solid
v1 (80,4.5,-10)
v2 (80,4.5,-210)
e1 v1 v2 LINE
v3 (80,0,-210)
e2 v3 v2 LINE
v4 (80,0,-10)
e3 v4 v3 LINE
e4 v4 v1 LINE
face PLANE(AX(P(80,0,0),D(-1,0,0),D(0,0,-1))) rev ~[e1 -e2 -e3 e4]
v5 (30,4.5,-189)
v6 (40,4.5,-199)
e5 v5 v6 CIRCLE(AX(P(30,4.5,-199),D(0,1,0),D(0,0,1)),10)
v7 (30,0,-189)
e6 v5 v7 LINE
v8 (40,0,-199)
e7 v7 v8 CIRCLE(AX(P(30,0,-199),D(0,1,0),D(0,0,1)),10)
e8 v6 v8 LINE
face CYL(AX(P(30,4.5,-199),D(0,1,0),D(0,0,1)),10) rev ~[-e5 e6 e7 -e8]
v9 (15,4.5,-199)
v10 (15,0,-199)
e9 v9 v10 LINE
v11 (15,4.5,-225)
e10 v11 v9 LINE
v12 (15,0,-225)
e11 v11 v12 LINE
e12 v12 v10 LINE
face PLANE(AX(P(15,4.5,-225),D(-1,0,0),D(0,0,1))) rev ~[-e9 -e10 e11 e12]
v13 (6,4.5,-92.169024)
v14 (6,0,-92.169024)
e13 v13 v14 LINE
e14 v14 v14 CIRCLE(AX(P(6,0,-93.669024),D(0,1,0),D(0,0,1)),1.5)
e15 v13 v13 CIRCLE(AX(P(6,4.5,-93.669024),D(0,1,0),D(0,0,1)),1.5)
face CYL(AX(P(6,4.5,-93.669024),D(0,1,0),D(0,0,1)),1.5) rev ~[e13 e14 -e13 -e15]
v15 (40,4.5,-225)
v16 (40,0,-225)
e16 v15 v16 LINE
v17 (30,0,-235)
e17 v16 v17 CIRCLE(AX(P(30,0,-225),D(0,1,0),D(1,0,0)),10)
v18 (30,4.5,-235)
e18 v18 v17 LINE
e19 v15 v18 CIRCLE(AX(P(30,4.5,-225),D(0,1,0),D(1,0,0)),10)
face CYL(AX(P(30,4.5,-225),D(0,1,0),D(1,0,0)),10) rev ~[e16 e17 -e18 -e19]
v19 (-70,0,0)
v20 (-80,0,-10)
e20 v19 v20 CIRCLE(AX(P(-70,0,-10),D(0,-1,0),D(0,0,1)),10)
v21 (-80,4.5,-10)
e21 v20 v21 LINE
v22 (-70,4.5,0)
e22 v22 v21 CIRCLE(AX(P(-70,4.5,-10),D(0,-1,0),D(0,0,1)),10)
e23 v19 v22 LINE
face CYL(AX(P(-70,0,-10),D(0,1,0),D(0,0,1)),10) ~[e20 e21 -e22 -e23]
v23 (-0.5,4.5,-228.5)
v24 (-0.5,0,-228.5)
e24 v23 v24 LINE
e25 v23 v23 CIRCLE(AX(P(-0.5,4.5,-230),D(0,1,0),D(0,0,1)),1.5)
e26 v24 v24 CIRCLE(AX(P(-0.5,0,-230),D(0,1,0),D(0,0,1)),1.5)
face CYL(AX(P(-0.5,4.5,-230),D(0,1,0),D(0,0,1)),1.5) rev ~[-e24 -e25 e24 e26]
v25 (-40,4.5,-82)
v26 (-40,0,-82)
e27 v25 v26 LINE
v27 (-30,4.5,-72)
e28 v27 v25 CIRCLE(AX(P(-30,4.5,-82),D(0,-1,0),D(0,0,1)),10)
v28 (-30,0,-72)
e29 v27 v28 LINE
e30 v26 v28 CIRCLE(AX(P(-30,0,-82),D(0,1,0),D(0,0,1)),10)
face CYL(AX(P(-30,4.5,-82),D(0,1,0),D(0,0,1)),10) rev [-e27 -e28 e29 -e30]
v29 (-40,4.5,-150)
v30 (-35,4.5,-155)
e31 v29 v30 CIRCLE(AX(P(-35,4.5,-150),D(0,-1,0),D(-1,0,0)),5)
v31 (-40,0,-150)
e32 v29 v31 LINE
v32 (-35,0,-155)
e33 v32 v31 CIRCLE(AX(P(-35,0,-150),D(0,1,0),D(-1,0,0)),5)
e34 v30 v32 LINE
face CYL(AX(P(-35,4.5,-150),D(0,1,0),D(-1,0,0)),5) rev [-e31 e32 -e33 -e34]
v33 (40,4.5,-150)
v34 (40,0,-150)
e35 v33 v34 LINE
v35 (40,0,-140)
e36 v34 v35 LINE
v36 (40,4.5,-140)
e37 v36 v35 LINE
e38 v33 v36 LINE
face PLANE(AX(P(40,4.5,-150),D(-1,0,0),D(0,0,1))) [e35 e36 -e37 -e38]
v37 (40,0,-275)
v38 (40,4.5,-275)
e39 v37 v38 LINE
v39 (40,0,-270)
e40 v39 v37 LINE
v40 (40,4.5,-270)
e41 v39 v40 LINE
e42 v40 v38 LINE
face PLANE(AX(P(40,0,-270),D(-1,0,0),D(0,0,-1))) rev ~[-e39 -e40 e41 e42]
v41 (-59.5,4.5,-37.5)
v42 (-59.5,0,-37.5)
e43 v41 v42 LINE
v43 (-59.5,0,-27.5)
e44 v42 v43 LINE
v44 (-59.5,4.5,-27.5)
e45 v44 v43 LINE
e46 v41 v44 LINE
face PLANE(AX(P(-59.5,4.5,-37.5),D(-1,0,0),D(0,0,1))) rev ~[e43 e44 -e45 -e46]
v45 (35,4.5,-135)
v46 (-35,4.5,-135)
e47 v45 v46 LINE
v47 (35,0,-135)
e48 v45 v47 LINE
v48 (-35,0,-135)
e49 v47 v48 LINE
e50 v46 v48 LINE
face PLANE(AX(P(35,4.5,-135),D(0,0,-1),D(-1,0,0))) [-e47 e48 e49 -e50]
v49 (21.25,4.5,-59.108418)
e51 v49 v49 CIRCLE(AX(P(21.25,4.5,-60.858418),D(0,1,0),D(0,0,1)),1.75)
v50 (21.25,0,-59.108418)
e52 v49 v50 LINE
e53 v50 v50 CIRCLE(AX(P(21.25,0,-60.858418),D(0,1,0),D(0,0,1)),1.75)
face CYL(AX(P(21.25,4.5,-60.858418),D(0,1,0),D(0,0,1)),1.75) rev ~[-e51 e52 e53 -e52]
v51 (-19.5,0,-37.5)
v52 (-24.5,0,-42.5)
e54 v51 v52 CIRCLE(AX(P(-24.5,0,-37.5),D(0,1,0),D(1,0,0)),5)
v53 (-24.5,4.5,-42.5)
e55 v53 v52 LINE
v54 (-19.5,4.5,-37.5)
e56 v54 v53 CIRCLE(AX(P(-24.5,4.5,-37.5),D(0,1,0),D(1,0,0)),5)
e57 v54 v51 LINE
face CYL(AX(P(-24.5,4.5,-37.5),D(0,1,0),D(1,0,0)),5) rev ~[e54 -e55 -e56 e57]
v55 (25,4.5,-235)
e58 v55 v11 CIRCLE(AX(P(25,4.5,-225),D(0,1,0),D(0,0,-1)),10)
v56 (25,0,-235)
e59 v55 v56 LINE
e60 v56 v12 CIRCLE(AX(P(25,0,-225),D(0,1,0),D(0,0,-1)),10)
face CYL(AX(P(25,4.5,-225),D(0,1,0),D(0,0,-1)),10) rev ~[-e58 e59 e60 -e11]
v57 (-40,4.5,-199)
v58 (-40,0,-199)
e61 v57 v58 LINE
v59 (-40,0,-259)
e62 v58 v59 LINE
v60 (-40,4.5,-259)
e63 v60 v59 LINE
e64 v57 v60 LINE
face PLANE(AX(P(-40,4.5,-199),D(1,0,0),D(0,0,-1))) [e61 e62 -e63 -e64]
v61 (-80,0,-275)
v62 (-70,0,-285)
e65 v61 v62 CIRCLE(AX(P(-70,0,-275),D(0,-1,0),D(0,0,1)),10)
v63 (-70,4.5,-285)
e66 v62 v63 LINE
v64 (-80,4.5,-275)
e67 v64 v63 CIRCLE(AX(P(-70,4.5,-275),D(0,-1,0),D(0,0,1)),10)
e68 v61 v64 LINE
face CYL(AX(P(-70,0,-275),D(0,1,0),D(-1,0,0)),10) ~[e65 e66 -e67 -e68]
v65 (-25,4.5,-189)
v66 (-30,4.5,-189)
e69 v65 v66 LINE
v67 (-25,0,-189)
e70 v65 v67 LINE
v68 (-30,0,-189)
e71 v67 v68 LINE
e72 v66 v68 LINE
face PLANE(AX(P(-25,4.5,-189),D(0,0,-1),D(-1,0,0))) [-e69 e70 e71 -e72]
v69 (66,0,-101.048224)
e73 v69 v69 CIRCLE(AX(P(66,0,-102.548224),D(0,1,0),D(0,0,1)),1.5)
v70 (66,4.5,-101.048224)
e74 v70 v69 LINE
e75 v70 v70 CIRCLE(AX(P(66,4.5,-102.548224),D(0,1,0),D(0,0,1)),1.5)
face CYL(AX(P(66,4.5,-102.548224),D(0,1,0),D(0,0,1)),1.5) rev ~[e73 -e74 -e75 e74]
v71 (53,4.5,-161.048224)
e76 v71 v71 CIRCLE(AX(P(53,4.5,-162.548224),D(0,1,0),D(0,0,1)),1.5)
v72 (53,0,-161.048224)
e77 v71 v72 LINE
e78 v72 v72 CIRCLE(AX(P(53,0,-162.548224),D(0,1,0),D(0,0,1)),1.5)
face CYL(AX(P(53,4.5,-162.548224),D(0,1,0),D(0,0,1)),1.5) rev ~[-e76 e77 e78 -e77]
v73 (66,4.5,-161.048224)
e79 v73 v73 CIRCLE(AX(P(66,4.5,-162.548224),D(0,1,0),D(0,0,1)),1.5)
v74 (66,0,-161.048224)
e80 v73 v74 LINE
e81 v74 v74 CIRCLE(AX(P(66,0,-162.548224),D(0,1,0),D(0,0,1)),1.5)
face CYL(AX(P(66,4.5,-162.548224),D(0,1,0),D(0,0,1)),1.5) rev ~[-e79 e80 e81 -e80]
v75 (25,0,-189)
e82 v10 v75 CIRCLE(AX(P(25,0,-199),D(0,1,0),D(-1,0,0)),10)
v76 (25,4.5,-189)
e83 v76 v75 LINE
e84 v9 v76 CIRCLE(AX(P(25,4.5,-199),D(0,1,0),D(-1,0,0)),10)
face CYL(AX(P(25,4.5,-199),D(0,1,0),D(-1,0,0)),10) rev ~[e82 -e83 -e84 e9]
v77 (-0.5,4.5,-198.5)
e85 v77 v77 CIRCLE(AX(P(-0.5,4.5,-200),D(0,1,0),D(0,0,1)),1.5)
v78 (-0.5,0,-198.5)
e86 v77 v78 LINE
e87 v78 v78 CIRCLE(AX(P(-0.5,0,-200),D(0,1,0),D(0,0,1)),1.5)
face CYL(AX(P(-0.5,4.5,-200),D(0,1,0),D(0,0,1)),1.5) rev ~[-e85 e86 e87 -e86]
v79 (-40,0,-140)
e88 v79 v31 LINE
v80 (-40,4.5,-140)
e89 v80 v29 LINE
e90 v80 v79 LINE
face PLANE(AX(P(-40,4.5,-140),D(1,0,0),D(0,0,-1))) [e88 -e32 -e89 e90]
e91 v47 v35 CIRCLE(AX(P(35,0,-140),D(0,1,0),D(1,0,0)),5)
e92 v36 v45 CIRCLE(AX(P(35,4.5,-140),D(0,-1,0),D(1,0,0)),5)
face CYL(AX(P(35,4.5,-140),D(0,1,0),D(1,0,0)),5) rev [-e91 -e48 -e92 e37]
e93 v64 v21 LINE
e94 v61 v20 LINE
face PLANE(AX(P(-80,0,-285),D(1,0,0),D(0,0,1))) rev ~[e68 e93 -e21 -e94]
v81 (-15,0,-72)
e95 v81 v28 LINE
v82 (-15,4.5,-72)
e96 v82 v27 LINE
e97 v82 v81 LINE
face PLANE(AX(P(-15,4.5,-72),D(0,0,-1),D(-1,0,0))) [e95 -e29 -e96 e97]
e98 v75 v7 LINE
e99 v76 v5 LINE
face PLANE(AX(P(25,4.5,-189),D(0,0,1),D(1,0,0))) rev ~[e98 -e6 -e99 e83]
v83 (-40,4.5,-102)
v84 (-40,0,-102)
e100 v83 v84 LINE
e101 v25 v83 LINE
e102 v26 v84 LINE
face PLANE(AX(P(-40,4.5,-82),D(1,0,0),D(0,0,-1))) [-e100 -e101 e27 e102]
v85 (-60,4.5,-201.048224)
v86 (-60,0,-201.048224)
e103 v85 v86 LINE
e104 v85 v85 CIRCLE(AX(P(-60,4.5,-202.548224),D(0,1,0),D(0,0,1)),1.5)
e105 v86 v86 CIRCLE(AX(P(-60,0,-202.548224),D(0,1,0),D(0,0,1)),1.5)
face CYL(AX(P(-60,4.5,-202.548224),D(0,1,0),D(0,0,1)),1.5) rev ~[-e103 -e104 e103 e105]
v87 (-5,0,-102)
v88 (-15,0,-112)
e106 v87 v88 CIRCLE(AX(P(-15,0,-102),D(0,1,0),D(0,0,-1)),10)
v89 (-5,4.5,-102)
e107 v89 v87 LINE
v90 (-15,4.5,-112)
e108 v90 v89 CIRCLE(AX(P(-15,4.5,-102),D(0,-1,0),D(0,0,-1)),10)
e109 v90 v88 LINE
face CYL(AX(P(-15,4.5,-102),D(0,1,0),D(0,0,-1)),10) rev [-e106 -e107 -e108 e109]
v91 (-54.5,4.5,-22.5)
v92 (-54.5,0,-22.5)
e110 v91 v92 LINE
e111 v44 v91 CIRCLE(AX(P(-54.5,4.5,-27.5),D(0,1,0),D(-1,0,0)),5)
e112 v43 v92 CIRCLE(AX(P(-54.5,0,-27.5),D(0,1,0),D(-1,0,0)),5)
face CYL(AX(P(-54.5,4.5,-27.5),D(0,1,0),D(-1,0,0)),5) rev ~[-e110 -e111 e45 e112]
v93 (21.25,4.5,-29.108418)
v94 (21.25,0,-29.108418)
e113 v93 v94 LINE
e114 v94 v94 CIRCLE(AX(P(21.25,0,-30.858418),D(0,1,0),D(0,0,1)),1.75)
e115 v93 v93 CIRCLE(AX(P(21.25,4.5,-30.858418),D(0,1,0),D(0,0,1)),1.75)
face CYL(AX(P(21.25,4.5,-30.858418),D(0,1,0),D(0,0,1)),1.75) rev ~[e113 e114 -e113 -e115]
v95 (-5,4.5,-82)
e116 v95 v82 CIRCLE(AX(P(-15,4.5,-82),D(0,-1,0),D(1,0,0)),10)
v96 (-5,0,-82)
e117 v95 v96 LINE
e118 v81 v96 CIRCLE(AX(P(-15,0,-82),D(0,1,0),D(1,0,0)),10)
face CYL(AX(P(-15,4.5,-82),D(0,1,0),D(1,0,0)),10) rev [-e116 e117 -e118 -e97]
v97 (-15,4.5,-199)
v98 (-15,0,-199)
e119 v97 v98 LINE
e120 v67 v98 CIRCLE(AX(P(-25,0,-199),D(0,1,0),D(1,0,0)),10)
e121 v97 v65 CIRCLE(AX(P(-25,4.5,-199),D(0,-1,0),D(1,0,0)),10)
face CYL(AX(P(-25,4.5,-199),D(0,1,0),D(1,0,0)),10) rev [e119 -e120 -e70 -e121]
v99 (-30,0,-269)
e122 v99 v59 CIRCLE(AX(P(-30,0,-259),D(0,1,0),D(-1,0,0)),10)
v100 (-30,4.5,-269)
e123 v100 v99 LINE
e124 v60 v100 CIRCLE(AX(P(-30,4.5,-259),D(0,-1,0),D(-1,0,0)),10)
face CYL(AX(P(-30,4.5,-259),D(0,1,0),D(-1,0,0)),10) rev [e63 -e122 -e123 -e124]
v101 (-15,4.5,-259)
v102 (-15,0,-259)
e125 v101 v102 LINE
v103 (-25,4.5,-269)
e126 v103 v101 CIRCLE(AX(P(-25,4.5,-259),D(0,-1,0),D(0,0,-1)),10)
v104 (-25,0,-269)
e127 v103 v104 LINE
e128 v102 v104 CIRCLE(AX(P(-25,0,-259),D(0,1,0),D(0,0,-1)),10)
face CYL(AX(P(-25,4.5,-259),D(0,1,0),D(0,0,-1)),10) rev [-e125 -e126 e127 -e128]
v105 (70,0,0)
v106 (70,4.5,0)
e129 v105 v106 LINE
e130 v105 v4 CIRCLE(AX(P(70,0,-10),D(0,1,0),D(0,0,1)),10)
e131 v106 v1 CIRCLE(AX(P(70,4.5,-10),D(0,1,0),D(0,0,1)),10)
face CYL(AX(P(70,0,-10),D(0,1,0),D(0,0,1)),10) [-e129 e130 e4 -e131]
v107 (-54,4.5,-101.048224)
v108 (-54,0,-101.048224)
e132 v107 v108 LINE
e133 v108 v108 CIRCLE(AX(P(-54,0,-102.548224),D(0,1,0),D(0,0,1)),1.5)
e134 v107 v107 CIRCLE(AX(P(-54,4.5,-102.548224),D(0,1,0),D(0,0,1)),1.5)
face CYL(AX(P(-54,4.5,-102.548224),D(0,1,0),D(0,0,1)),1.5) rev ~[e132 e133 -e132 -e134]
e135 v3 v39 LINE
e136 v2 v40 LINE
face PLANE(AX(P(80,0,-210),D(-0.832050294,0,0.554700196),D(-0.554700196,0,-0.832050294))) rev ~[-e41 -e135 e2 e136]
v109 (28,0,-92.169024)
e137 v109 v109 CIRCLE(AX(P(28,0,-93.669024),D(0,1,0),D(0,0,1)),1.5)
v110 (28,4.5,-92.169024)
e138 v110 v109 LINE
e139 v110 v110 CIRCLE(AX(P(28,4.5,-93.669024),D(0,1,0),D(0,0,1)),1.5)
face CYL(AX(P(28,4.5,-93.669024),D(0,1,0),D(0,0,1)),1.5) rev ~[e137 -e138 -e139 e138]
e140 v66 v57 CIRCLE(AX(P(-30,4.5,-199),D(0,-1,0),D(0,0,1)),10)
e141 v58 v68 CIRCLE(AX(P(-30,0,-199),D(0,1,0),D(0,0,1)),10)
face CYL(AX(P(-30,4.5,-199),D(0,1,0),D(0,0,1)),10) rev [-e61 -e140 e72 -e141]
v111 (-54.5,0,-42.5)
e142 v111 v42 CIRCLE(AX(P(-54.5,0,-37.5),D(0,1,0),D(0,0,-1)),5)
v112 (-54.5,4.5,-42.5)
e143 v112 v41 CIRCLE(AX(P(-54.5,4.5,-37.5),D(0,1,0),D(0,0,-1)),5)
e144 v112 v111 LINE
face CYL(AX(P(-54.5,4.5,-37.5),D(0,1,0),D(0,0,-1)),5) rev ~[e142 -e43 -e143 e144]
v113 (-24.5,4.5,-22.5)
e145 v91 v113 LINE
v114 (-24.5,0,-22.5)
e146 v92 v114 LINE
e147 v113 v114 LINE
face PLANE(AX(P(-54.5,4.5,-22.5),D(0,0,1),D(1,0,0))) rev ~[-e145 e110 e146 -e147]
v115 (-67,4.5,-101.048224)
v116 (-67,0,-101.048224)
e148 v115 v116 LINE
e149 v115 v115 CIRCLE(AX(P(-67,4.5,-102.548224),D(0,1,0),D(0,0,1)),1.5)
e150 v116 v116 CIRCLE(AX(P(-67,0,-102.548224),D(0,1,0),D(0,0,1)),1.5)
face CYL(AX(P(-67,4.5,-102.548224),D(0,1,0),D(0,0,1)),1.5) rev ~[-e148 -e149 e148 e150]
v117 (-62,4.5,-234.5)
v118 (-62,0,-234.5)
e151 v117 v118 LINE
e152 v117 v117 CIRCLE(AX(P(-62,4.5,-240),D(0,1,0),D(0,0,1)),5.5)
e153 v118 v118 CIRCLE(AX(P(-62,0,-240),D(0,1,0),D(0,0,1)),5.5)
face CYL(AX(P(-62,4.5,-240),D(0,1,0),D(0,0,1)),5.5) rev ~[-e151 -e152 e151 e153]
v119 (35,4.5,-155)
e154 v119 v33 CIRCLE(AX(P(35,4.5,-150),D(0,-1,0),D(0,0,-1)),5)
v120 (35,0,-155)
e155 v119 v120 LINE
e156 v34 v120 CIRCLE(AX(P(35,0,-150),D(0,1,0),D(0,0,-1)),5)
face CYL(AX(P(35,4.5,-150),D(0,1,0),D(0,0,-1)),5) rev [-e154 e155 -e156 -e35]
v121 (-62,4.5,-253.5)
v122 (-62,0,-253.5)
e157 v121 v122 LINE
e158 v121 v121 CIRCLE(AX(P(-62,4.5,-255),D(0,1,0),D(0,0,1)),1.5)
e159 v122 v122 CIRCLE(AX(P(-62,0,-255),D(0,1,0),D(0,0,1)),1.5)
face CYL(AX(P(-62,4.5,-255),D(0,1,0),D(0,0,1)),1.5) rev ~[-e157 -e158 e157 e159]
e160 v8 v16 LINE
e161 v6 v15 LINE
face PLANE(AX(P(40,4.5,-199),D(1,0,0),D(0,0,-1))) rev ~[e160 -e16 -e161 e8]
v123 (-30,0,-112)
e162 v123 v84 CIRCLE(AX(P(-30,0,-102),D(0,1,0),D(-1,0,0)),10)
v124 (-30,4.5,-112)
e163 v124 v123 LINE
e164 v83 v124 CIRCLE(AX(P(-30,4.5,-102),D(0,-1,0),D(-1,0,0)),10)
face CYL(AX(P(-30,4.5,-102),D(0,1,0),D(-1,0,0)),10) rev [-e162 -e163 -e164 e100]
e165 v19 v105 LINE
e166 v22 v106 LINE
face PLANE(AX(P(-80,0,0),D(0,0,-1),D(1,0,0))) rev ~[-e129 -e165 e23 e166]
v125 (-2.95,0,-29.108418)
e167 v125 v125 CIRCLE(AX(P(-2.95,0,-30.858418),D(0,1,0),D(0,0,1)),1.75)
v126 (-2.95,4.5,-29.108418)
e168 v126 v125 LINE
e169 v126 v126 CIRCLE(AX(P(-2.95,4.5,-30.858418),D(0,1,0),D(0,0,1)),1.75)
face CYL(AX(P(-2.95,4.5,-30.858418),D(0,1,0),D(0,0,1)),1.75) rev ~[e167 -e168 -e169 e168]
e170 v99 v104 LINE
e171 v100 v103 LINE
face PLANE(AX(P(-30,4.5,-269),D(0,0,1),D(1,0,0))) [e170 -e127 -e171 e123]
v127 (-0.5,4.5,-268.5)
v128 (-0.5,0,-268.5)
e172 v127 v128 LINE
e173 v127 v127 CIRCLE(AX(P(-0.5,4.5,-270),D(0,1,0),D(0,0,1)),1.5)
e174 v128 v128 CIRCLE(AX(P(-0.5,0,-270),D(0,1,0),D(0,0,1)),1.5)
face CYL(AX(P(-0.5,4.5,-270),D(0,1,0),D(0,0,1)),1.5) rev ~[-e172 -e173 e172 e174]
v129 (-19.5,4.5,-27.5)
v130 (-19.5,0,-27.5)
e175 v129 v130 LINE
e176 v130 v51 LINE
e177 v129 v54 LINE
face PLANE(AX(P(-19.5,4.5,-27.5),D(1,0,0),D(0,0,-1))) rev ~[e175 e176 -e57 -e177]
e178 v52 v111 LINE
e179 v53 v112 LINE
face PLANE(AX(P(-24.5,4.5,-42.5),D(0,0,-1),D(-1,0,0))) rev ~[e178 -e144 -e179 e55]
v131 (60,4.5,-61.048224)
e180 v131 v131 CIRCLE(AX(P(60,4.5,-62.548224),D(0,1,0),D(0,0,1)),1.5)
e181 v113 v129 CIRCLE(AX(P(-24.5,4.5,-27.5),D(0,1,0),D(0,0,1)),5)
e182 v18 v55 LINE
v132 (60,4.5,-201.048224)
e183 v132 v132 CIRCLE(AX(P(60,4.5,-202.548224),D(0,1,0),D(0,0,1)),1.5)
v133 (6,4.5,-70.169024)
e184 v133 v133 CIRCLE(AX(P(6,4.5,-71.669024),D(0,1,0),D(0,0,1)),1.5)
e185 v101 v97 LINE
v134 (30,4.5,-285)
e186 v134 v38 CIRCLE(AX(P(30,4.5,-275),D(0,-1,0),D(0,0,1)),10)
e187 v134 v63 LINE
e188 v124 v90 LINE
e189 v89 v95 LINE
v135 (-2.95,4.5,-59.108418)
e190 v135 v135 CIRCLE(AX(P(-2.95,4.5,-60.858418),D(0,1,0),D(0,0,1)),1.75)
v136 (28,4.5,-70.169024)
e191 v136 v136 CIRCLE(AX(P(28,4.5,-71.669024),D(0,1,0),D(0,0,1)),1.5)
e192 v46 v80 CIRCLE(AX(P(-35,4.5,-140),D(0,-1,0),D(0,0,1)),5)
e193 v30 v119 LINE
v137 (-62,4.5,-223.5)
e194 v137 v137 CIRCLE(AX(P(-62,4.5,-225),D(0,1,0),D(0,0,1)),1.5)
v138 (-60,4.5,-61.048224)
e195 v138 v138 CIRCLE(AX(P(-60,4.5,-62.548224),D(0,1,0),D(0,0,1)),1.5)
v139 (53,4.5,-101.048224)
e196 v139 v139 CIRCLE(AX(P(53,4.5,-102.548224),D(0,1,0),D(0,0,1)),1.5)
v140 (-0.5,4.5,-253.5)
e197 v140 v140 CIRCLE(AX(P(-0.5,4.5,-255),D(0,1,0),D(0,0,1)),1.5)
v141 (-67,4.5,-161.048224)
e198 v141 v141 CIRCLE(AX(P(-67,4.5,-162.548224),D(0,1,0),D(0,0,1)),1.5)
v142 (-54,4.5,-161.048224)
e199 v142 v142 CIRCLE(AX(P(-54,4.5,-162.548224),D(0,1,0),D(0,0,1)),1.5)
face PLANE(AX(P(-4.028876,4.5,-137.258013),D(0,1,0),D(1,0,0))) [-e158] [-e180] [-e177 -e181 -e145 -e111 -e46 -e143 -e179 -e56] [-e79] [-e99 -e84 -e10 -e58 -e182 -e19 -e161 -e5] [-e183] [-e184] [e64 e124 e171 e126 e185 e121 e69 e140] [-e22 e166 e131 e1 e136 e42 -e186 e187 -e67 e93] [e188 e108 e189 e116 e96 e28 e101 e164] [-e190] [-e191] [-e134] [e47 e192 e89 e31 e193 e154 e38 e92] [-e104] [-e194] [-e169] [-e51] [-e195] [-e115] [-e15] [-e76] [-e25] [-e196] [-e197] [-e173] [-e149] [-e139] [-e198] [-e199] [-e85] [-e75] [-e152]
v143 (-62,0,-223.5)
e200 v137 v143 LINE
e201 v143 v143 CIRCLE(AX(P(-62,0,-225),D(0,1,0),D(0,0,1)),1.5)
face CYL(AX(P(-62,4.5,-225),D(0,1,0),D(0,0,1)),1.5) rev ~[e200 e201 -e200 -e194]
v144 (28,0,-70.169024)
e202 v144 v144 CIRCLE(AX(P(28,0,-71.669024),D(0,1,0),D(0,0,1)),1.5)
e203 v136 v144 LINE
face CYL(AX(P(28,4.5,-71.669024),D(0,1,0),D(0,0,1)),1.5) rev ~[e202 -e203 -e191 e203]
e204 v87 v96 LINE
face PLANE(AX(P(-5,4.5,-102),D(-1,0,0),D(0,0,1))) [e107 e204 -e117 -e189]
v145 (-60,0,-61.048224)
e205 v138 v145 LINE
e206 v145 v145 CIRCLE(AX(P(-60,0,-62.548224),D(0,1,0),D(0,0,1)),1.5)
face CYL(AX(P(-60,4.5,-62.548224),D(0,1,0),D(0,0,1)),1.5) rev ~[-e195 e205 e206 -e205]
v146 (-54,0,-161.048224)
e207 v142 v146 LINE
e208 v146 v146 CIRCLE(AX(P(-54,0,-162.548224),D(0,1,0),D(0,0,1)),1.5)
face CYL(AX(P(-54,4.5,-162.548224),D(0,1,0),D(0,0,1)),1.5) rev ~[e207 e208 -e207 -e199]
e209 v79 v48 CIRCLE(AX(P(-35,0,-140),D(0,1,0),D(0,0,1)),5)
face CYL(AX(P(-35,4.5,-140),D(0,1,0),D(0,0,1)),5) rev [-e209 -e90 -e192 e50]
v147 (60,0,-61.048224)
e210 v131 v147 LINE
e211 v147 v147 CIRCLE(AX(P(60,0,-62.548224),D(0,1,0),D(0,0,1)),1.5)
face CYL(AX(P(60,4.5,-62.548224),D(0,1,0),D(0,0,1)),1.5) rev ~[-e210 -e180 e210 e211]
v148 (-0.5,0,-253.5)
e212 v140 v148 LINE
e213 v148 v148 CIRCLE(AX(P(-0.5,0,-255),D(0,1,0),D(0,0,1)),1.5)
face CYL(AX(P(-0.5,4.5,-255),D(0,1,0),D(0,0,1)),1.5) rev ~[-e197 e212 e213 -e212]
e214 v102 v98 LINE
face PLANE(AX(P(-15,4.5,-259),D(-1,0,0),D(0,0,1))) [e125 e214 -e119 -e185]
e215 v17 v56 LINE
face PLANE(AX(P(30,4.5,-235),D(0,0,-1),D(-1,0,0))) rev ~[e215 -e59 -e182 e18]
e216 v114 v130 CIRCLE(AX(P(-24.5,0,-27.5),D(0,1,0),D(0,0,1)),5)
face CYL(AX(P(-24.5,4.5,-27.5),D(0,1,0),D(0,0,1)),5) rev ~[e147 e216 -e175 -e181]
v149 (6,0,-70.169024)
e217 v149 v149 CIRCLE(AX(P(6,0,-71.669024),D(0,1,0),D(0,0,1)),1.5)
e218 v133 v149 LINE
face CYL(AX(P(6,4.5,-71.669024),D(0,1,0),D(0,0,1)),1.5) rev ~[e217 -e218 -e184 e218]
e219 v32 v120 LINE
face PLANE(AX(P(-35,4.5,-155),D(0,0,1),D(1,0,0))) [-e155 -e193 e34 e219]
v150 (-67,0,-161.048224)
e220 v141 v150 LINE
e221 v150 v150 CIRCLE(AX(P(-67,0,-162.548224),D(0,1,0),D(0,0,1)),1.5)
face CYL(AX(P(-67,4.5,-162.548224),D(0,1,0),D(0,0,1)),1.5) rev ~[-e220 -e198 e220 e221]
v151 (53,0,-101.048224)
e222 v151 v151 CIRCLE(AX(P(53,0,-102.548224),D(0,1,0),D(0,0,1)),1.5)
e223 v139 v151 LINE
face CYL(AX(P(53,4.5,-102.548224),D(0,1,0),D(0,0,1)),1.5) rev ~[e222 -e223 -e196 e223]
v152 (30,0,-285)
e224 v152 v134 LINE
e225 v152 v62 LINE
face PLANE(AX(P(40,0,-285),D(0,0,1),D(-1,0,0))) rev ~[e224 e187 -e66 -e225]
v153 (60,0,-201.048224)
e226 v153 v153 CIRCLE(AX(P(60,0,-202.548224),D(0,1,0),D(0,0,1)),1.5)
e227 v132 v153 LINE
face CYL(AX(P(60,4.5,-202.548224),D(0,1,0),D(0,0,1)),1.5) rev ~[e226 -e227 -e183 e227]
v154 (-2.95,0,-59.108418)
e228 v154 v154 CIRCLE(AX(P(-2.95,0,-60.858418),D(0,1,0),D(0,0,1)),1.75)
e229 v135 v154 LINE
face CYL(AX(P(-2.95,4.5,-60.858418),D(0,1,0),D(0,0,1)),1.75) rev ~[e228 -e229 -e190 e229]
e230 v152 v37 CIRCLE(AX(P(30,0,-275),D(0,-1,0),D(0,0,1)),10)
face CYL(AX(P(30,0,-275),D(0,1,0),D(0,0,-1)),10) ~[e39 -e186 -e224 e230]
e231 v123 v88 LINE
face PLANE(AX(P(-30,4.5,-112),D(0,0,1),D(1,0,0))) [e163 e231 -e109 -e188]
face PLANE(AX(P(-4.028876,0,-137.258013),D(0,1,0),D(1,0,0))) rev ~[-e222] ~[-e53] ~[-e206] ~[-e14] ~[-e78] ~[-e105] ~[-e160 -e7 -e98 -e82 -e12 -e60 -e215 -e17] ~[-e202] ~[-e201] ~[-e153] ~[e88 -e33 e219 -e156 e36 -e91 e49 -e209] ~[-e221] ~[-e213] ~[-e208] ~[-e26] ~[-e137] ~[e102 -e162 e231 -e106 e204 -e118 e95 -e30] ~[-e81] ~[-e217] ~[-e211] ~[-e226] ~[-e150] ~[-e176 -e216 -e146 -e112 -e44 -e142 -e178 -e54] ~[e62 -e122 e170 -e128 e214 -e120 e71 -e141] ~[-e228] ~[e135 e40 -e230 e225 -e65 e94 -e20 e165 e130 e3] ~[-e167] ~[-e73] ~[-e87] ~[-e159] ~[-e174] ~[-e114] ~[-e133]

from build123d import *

# Parameters (mm, degrees)
EXTRUDE_1_DEPTH     = 4.5
SKETCH_3_R          = 1.75
CUT_EXTRUDE_2_DEPTH = 297.049404661
SKETCH_4_R          = 1.5
CUT_EXTRUDE_3_DEPTH = 297.049404661
FILLET_1_R          = 10
SKETCH_7_R          = 1.5
CUT_EXTRUDE_4_DEPTH = 297.049404661
SKETCH_8_R          = 1.5
CUT_EXTRUDE_5_DEPTH = 297.049404661
CUT_EXTRUDE_6_DEPTH = 297.049404661
SKETCH_10_R         = 5.5
CUT_EXTRUDE_7_DEPTH = 297.049404661
SKETCH_11_R         = 1.5
CUT_EXTRUDE_8_DEPTH = 297.049404661


with BuildPart() as part:
    # 草图1 → 凸台-拉伸1 (new body)
    with BuildSketch(Plane(origin=(0, 0, 0), x_dir=(1, 0, 0), z_dir=(0, 1, 0))):
        Polygon((-80, 0), (80, 0), (80, 210), (40, 270), (40, 285), (-80, 285), align=None)
    extrude(amount=EXTRUDE_1_DEPTH)

    # 草图3 → 切除-拉伸2 (cut, through all)
    with BuildSketch(Plane(origin=(0, 4.5, 0), x_dir=(1, 0, 0), z_dir=(0, 1, 0))):
        with Locations(Location((-2.95, 60.858418011, 0), (0, 0, 270))):
            Circle(SKETCH_3_R)
        with Locations(Location((21.25, 60.858418011, 0), (0, 0, 270))):
            Circle(SKETCH_3_R)
        with Locations(Location((21.25, 30.858418011, 0), (0, 0, 270))):
            Circle(SKETCH_3_R)
        with Locations(Location((-2.95, 30.858418011, 0), (0, 0, 270))):
            Circle(SKETCH_3_R)
    extrude(amount=-CUT_EXTRUDE_2_DEPTH, mode=Mode.SUBTRACT)

    # 草图4 → 切除-拉伸3 (cut, through all)
    with BuildSketch(Plane(origin=(0, 4.5, 0), x_dir=(1, 0, 0), z_dir=(0, 1, 0))):
        with Locations(Location((-60, 202.548224484, 0), (0, 0, 270))):
            Circle(SKETCH_4_R)
        with Locations(Location((-67, 162.548224484, 0), (0, 0, 270))):
            Circle(SKETCH_4_R)
        with Locations(Location((-54, 162.548224484, 0), (0, 0, 270))):
            Circle(SKETCH_4_R)
        with Locations(Location((-67, 102.548224484, 0), (0, 0, 270))):
            Circle(SKETCH_4_R)
        with Locations(Location((-54, 102.548224484, 0), (0, 0, 270))):
            Circle(SKETCH_4_R)
        with Locations(Location((-60, 62.548224484, 0), (0, 0, 270))):
            Circle(SKETCH_4_R)
        with Locations(Location((60, 62.548224484, 0), (0, 0, 270))):
            Circle(SKETCH_4_R)
        with Locations(Location((53, 102.548224484, 0), (0, 0, 270))):
            Circle(SKETCH_4_R)
        with Locations(Location((66, 102.548224484, 0), (0, 0, 270))):
            Circle(SKETCH_4_R)
        with Locations(Location((53, 162.548224484, 0), (0, 0, 270))):
            Circle(SKETCH_4_R)
        with Locations(Location((66, 162.548224484, 0), (0, 0, 270))):
            Circle(SKETCH_4_R)
        with Locations(Location((60, 202.548224484, 0), (0, 0, 270))):
            Circle(SKETCH_4_R)
    extrude(amount=-CUT_EXTRUDE_3_DEPTH, mode=Mode.SUBTRACT)

    # 圆角1
    fillet_1_edges = [part.edges().sort_by_distance(p)[0] for p in [
        (80, 2.25, 0),
        (-80, 2.25, 0),
        (-80, 2.25, -285),
        (40, 2.25, -285),
    ]]
    fillet(fillet_1_edges, radius=FILLET_1_R)

    # 草图7 → 切除-拉伸4 (cut, through all)
    with BuildSketch(Plane(origin=(0, 4.5, 0), x_dir=(1, 0, 0), z_dir=(0, 1, 0))):
        with Locations(Location((-62, 255, 0), (0, 0, 270))):
            Circle(SKETCH_7_R)
        with Locations(Location((-62, 225, 0), (0, 0, 270))):
            Circle(SKETCH_7_R)
    extrude(amount=-CUT_EXTRUDE_4_DEPTH, mode=Mode.SUBTRACT)

    # 草图8 → 切除-拉伸5 (cut, through all)
    with BuildSketch(Plane(origin=(0, 4.5, 0), x_dir=(1, 0, 0), z_dir=(0, 1, 0))):
        with Locations(Location((-0.5, 270, 0), (0, 0, 270))):
            Circle(SKETCH_8_R)
        with Locations(Location((-0.5, 255, 0), (0, 0, 270))):
            Circle(SKETCH_8_R)
        with Locations(Location((-0.5, 230, 0), (0, 0, 270))):
            Circle(SKETCH_8_R)
        with Locations(Location((-0.5, 200, 0), (0, 0, 270))):
            Circle(SKETCH_8_R)
    extrude(amount=-CUT_EXTRUDE_5_DEPTH, mode=Mode.SUBTRACT)

    # 草图9 → 切除-拉伸6 (cut, through all)
    with BuildSketch(Plane(origin=(0, 4.5, 0), x_dir=(1, 0, 0), z_dir=(0, 1, 0))):
        with BuildLine():
            Line((-30, 269), (-25, 269))
            ThreePointArc((-25, 269), (-17.928932188, 266.071067812), (-15, 259))
            Line((-15, 259), (-15, 199))
            ThreePointArc((-15, 199), (-17.928932188, 191.928932188), (-25, 189))
            Line((-25, 189), (-30, 189))
            ThreePointArc((-30, 189), (-37.071067812, 191.928932188), (-40, 199))
            Line((-40, 199), (-40, 259))
            ThreePointArc((-40, 259), (-37.071067812, 266.071067812), (-30, 269))
        make_face()
        with BuildLine():
            Line((25, 189), (30, 189))
            ThreePointArc((30, 189), (37.071067812, 191.928932188), (40, 199))
            Line((40, 199), (40, 225))
            ThreePointArc((40, 225), (37.071067812, 232.071067812), (30, 235))
            Line((30, 235), (25, 235))
            ThreePointArc((25, 235), (17.928932188, 232.071067812), (15, 225))
            Line((15, 225), (15, 199))
            ThreePointArc((15, 199), (17.928932188, 191.928932188), (25, 189))
        make_face()
        with BuildLine():
            Line((-35, 155), (35, 155))
            ThreePointArc((35, 155), (38.535533906, 153.535533906), (40, 150))
            Line((40, 150), (40, 140))
            ThreePointArc((40, 140), (38.535533906, 136.464466094), (35, 135))
            Line((35, 135), (-35, 135))
            ThreePointArc((-35, 135), (-38.535533906, 136.464466094), (-40, 140))
            Line((-40, 140), (-40, 150))
            ThreePointArc((-40, 150), (-38.535533906, 153.535533906), (-35, 155))
        make_face()
        with BuildLine():
            Line((-30, 112), (-15, 112))
            ThreePointArc((-15, 112), (-7.928932188, 109.071067812), (-5, 102))
            Line((-5, 102), (-5, 82))
            ThreePointArc((-5, 82), (-7.928932188, 74.928932188), (-15, 72))
            Line((-15, 72), (-30, 72))
            ThreePointArc((-30, 72), (-37.071067812, 74.928932188), (-40, 82))
            Line((-40, 82), (-40, 102))
            ThreePointArc((-40, 102), (-37.071067812, 109.071067812), (-30, 112))
        make_face()
        with BuildLine():
            Line((-54.5, 22.5), (-24.5, 22.5))
            ThreePointArc((-24.5, 22.5), (-20.964466094, 23.964466094), (-19.5, 27.5))
            Line((-19.5, 27.5), (-19.5, 37.5))
            ThreePointArc((-19.5, 37.5), (-20.964466094, 41.035533906), (-24.5, 42.5))
            Line((-24.5, 42.5), (-54.5, 42.5))
            ThreePointArc((-54.5, 42.5), (-58.035533906, 41.035533906), (-59.5, 37.5))
            Line((-59.5, 37.5), (-59.5, 27.5))
            ThreePointArc((-59.5, 27.5), (-58.035533906, 23.964466094), (-54.5, 22.5))
        make_face()
    extrude(amount=-CUT_EXTRUDE_6_DEPTH, mode=Mode.SUBTRACT)

    # 草图10 → 切除-拉伸7 (cut, through all)
    with BuildSketch(Plane(origin=(0, 4.5, 0), x_dir=(1, 0, 0), z_dir=(0, 1, 0))):
        with Locations(Location((-62, 240, 0), (0, 0, 270))):
            Circle(SKETCH_10_R)
    extrude(amount=-CUT_EXTRUDE_7_DEPTH, mode=Mode.SUBTRACT)

    # 草图11 → 切除-拉伸8 (cut, through all)
    with BuildSketch(Plane(origin=(0, 4.5, 0), x_dir=(1, 0, 0), z_dir=(0, 1, 0))):
        with Locations(Location((6, 93.669023571, 0), (0, 0, 270))):
            Circle(SKETCH_11_R)
        with Locations(Location((28, 93.669023571, 0), (0, 0, 270))):
            Circle(SKETCH_11_R)
        with Locations(Location((6, 71.669023571, 0), (0, 0, 270))):
            Circle(SKETCH_11_R)
        with Locations(Location((28, 71.669023571, 0), (0, 0, 270))):
            Circle(SKETCH_11_R)
    extrude(amount=-CUT_EXTRUDE_8_DEPTH, mode=Mode.SUBTRACT)


solid = part.part
